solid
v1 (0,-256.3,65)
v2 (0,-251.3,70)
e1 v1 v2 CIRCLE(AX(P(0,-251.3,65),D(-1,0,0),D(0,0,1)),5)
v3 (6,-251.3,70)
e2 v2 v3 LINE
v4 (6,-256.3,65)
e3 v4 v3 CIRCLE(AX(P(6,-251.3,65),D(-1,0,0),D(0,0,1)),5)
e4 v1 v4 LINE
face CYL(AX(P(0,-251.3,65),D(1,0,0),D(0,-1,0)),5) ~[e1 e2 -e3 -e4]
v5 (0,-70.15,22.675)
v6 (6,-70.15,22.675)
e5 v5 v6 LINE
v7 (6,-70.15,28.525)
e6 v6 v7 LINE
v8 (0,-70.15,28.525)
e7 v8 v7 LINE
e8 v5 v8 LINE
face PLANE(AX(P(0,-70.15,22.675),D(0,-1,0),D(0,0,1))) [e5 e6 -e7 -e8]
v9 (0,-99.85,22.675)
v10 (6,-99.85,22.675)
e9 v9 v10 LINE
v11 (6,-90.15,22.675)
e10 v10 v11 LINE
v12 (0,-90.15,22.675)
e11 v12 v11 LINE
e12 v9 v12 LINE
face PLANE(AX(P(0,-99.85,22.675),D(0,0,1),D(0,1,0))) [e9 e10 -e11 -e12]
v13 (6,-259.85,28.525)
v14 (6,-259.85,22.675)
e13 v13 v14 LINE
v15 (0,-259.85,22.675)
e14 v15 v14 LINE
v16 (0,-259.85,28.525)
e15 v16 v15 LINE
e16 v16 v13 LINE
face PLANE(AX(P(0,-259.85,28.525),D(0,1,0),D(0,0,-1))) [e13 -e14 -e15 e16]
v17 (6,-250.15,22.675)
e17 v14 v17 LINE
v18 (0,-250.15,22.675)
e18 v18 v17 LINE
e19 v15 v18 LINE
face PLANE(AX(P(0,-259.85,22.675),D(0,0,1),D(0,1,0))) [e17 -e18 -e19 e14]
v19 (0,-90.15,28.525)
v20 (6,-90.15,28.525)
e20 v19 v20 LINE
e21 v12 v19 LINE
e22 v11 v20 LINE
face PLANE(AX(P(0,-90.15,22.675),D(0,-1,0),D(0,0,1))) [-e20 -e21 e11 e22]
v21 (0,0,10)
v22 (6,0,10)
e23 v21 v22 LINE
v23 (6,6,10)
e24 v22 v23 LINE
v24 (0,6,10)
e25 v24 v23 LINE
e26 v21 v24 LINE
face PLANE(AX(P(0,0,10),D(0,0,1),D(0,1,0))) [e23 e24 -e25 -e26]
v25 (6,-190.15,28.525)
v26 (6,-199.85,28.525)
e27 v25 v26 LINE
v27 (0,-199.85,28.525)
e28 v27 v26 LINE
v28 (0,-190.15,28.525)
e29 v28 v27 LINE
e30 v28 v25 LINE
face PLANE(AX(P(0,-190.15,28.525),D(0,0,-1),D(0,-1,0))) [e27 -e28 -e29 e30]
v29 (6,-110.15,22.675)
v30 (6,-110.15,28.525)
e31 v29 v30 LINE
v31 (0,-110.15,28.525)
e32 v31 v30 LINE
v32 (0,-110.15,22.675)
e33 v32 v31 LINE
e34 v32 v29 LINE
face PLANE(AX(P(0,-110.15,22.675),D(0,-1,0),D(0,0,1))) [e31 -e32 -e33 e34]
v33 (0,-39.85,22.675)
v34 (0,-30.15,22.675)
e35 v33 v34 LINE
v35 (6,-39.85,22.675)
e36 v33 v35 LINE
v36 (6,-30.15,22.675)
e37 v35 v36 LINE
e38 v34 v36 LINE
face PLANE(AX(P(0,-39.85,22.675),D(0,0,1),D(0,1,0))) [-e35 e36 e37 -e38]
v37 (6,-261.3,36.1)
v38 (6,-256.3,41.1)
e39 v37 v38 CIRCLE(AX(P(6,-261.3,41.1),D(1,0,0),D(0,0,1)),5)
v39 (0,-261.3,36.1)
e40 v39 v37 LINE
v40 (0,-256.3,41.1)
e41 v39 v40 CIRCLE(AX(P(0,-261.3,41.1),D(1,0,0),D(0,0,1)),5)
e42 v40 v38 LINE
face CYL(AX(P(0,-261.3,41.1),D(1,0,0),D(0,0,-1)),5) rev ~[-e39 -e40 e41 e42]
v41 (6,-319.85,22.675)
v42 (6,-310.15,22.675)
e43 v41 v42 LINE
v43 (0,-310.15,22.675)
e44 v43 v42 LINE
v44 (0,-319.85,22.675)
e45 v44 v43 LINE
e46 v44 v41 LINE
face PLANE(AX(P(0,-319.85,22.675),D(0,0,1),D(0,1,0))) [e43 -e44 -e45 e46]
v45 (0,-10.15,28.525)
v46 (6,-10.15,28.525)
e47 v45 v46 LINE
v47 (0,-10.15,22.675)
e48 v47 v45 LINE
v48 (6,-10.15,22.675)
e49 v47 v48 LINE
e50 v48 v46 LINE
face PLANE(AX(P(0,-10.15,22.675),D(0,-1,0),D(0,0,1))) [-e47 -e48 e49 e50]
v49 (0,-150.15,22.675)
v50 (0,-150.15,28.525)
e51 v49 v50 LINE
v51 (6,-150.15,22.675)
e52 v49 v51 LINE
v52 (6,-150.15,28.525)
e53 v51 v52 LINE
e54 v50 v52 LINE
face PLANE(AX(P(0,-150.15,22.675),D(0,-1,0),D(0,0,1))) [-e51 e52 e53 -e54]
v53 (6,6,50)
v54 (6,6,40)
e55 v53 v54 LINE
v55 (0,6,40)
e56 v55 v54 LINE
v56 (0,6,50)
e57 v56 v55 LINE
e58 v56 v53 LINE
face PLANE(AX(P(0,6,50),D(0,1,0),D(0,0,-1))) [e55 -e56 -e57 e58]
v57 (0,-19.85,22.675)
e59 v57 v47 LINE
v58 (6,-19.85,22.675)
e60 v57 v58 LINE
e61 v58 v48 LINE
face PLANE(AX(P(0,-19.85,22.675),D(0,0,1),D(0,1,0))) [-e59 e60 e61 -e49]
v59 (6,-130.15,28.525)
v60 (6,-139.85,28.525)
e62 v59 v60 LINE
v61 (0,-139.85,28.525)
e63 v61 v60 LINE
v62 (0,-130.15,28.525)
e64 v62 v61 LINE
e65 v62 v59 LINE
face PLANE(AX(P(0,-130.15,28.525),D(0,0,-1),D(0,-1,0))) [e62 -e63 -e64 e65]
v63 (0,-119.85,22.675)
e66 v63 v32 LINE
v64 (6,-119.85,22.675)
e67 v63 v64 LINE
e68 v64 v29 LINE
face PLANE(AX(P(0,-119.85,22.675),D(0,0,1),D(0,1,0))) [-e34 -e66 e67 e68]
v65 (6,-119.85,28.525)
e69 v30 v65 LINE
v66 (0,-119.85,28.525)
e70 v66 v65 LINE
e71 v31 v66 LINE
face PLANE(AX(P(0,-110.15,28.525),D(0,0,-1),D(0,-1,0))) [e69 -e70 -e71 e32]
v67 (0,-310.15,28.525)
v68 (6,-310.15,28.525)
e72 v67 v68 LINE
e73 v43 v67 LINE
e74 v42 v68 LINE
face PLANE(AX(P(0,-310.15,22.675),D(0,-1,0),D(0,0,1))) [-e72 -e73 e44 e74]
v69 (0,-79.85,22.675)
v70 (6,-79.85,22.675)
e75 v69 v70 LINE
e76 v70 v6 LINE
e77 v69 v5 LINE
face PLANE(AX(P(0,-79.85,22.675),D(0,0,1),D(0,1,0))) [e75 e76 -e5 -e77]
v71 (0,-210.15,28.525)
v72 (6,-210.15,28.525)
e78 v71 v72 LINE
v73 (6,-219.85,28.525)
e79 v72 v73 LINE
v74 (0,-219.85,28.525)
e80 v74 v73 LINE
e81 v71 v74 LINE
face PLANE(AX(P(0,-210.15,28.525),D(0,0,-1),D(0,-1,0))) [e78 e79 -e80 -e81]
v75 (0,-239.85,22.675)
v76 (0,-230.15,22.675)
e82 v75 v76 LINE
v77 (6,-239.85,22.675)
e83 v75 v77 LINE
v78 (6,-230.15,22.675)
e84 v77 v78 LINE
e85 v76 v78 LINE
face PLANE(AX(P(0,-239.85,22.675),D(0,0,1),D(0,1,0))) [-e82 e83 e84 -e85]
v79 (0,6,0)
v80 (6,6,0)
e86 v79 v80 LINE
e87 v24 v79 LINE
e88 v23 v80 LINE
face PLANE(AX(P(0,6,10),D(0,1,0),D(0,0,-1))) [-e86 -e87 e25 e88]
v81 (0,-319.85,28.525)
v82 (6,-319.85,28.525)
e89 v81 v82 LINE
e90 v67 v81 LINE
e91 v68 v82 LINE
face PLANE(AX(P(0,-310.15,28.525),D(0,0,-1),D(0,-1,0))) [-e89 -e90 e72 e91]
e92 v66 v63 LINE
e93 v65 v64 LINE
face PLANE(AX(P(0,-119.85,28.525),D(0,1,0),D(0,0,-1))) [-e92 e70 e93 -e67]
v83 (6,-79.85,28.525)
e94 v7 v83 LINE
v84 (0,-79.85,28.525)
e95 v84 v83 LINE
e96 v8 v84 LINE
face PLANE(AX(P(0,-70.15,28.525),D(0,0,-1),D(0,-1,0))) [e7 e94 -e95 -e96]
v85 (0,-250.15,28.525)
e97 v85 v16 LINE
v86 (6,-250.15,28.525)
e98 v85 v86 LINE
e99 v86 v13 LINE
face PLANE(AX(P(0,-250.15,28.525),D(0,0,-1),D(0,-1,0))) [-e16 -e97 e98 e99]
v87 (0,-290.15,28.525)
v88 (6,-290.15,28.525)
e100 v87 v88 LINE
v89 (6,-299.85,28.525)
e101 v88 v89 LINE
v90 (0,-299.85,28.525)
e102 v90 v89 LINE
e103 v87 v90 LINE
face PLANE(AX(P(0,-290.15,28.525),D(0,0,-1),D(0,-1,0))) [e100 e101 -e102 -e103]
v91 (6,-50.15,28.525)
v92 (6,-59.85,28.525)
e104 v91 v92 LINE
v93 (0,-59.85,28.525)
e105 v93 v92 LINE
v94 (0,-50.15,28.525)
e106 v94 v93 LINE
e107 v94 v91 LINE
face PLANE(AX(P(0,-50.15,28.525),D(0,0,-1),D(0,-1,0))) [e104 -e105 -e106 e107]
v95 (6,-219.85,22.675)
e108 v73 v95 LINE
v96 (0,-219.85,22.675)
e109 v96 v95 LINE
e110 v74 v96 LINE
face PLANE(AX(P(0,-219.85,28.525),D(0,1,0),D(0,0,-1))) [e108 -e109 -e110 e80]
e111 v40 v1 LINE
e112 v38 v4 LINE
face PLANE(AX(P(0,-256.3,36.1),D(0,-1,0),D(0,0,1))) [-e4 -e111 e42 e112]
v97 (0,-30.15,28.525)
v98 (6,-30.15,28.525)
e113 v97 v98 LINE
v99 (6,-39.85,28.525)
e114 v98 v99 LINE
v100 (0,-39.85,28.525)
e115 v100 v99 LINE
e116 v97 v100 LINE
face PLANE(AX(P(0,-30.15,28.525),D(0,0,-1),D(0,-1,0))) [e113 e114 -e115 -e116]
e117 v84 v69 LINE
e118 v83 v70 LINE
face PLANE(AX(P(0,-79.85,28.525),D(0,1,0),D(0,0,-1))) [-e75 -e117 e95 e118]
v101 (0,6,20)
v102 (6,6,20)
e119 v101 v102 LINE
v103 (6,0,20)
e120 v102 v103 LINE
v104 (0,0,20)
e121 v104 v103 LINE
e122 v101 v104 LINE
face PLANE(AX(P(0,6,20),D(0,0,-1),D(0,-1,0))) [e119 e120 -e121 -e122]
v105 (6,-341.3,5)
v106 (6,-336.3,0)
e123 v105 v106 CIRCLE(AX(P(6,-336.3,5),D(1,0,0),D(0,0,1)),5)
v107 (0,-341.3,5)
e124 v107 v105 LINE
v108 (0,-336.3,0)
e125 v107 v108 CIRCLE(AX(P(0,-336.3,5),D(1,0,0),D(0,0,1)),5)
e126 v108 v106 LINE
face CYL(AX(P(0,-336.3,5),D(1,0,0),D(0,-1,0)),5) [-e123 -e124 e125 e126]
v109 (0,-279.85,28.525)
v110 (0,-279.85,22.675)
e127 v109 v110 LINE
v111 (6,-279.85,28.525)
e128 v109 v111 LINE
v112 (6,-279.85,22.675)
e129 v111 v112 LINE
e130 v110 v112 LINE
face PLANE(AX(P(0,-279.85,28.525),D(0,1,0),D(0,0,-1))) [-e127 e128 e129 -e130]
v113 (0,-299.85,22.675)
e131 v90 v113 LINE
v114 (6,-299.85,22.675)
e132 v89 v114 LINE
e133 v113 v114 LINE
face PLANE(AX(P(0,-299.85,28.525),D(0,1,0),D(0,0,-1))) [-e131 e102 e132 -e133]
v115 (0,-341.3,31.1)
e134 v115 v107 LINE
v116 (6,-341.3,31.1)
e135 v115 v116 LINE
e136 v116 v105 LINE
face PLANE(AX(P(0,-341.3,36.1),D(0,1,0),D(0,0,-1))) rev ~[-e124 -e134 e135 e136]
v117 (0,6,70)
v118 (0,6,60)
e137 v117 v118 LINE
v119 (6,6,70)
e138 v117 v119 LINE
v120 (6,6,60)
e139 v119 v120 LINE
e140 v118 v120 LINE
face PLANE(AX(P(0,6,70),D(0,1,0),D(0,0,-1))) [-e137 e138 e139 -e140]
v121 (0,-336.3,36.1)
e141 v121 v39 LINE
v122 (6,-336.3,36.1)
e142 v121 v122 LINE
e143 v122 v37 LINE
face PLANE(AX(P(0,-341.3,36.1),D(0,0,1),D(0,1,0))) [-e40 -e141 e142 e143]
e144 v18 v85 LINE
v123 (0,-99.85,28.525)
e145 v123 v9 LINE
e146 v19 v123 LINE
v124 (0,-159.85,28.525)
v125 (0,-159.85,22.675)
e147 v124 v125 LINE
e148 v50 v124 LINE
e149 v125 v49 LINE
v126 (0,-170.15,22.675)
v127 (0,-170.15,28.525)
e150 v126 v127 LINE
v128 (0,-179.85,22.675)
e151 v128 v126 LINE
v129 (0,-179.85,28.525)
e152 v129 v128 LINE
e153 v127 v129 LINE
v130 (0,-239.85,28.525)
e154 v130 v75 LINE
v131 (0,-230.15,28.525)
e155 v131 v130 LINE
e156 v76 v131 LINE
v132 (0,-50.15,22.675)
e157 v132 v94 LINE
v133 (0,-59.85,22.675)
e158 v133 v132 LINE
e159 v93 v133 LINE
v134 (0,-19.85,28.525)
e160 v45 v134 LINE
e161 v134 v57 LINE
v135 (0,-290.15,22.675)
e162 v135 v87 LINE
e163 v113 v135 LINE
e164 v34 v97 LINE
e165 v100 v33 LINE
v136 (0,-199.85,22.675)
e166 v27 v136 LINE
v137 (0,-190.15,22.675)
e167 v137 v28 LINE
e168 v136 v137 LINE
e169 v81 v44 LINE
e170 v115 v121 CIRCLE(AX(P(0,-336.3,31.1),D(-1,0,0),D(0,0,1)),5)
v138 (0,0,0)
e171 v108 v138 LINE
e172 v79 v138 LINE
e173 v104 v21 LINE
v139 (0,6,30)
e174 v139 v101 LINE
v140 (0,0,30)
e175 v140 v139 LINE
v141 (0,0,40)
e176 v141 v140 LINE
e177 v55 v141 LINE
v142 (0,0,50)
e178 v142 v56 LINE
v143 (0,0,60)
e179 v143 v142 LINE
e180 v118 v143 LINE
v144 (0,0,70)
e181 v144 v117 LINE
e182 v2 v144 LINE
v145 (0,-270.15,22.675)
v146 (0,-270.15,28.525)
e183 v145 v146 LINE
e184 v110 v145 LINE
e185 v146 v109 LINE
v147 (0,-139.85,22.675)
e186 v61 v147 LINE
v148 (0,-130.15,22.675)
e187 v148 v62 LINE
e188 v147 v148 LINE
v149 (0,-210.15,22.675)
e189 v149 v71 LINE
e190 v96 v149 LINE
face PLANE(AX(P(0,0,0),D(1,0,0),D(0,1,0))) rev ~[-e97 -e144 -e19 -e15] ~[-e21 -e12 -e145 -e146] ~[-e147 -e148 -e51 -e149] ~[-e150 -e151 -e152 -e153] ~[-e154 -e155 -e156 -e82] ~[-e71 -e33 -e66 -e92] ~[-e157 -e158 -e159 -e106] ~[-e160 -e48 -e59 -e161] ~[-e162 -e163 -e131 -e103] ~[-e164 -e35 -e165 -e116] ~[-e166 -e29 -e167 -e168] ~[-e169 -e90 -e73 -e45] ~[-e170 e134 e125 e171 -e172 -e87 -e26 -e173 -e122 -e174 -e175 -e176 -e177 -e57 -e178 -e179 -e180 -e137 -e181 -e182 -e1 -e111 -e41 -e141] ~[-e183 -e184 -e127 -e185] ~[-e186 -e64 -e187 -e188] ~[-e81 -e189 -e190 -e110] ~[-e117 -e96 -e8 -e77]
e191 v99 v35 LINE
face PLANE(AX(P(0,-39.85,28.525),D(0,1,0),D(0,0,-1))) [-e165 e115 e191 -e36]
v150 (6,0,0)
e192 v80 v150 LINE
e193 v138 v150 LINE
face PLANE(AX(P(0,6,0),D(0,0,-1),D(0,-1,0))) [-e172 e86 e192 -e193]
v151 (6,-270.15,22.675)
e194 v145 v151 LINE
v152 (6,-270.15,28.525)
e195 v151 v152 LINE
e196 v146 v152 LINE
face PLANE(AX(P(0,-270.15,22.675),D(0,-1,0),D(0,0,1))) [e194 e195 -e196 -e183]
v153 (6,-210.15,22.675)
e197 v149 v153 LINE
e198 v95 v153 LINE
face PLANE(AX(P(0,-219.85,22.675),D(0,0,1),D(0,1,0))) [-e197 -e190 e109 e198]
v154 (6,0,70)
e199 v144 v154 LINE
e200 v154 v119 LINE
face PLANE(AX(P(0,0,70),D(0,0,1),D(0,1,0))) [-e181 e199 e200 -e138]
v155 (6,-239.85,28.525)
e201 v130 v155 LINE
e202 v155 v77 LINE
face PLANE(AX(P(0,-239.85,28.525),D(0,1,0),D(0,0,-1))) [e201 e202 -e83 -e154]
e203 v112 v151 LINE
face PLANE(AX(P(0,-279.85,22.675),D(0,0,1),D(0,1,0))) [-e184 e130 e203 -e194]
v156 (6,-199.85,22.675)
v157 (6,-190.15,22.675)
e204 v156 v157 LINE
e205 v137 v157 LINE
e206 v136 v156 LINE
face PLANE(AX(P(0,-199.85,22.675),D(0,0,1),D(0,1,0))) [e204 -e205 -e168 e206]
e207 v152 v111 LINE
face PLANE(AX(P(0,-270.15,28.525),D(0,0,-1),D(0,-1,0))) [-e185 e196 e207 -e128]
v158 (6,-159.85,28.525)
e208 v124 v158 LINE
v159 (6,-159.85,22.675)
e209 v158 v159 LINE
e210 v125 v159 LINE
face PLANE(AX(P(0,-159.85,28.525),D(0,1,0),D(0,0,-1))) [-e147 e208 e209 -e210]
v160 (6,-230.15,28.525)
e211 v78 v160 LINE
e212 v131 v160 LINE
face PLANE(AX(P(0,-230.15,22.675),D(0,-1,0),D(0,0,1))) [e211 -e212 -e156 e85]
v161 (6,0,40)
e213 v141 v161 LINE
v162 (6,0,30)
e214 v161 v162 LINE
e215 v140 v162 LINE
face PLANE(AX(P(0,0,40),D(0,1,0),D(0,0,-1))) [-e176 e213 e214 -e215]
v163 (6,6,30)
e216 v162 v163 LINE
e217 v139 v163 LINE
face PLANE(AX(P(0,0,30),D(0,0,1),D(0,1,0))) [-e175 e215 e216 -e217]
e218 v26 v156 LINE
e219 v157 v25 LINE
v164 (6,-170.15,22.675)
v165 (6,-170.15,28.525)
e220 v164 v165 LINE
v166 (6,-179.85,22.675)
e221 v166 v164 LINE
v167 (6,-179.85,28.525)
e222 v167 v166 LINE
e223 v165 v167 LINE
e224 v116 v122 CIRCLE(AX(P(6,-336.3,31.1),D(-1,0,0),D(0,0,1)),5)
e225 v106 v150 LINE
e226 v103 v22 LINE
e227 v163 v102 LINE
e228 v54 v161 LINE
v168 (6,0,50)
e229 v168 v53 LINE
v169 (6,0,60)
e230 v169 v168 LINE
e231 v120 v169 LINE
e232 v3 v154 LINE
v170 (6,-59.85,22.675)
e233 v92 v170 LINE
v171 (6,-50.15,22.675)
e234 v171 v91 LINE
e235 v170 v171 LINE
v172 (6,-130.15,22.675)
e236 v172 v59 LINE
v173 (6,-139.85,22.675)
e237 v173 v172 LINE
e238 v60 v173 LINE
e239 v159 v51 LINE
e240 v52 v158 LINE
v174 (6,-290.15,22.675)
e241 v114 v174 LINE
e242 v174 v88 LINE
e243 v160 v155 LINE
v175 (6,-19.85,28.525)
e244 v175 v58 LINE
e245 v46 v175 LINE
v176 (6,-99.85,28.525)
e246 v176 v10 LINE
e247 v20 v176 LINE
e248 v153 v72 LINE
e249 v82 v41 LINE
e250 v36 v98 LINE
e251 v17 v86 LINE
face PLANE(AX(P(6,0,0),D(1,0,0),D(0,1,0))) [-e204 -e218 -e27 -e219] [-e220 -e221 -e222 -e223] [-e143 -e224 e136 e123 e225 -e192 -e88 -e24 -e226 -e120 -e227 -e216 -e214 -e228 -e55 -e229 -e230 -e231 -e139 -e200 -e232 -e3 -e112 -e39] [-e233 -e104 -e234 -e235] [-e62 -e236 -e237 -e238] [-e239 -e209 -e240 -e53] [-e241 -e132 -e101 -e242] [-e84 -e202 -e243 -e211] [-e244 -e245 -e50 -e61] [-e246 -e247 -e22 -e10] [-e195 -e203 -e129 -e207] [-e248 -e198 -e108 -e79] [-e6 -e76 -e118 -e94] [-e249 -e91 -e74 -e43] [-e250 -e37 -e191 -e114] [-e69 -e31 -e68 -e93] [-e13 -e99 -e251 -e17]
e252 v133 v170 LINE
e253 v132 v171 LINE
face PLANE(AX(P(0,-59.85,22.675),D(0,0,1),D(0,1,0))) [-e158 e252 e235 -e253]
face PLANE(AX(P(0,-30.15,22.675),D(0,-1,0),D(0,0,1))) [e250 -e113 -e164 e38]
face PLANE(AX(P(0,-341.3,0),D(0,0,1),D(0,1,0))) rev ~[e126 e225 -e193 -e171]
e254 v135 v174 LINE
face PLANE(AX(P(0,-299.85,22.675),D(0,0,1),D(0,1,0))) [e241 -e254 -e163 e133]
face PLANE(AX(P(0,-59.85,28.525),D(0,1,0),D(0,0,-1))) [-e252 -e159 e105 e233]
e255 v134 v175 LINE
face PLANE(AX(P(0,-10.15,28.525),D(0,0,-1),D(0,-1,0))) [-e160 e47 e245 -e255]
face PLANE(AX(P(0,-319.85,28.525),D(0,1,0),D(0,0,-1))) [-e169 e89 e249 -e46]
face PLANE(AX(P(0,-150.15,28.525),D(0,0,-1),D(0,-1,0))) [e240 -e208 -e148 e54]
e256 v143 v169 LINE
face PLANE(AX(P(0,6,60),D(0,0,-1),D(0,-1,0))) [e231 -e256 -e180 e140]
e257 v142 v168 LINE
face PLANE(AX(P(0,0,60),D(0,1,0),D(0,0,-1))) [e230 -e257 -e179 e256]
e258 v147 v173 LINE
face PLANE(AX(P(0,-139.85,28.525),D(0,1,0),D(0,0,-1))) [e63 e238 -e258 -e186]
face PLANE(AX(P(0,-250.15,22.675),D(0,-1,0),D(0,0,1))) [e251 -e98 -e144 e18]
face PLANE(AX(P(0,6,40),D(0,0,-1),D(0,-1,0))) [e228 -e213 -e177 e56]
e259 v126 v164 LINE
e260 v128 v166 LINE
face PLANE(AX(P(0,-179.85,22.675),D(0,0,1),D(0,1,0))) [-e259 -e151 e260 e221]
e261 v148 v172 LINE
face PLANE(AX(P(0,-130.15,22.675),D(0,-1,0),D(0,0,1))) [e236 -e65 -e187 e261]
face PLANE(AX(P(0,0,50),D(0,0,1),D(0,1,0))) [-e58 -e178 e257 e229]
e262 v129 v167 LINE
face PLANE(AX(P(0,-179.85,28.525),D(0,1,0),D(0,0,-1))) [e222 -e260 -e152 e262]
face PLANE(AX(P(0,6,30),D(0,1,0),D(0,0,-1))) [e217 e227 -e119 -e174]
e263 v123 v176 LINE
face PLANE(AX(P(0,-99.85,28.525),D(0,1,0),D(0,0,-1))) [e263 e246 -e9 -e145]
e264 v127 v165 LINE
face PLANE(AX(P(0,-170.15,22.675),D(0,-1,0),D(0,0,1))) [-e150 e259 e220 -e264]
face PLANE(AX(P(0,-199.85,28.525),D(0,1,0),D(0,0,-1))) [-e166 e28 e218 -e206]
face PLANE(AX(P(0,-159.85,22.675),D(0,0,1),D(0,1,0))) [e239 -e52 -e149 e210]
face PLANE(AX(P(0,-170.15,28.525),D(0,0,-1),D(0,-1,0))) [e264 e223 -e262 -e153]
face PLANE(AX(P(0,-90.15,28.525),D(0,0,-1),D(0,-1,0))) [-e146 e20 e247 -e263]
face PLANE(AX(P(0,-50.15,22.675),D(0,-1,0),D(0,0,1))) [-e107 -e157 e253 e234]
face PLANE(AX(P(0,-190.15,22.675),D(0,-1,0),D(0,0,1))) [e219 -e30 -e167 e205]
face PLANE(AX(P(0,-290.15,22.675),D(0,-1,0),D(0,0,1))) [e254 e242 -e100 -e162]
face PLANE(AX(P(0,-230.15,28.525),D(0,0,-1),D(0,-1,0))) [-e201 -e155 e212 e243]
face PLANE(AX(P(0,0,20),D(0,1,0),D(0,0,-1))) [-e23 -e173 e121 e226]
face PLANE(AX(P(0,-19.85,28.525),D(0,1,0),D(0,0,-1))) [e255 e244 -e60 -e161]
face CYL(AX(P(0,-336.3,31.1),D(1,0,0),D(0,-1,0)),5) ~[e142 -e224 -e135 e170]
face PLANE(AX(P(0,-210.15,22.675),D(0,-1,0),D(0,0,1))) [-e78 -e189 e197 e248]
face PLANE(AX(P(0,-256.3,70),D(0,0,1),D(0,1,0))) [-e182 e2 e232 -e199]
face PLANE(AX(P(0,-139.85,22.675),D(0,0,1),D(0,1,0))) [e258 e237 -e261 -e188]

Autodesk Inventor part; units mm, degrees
ref_plane "YZ Plane" through (0, 0, 0) normal (1, 0, 0) x (0, 1, 0)
ref_plane "XZ Plane" through (0, 0, 0) normal (0, 1, 0) x (-1, 0, 0)
ref_plane "XY Plane" through (0, 0, 0) normal (0, 0, 1) x (1, 0, 0)
sketch "Sketch1" plane through (0, 0, 0) normal (1, 0, 0) x (0, 1, 0)
  line L0 (0, 70) -> (-341.3, 70) construction
  line L1 (-341.3, 70) -> (-341.3, 0) construction
  line L2 (-341.3, 0) -> (0, 0)
  line L3 (0, 0) -> (0, 60) construction
  line L4 (0, 70) -> (6, 70)
  line L5 (6, 70) -> (6, 60)
  line L6 (6, 60) -> (0, 60)
  line L7 (0, 50) -> (6, 50)
  line L8 (6, 50) -> (6, 40)
  line L9 (6, 40) -> (0, 40)
  line L10 (0, 30) -> (6, 30)
  line L11 (6, 30) -> (6, 20)
  line L12 (6, 20) -> (0, 20)
  line L13 (0, 10) -> (6, 10)
  line L14 (6, 10) -> (6, 0)
  line L15 (6, 0) -> (0, 0)
  line L16 (0, 60) -> (0, 50)
  line L17 (0, 40) -> (0, 30)
  line L18 (0, 20) -> (0, 10)
  line L19 (-10.15, 28.525) -> (-19.85, 28.525)
  line L20 (-19.85, 28.525) -> (-19.85, 22.675)
  line L21 (-19.85, 22.675) -> (-10.15, 22.675)
  line L22 (-10.15, 22.675) -> (-10.15, 28.525)
  line L23 (-10, 28.6) -> (-331.3, 28.6) construction
  line L24 (-331.3, 28.6) -> (-331.3, 22.6) construction
  line L25 (-331.3, 22.6) -> (-10, 22.6) construction
  line L26 (-10, 22.6) -> (-10, 28.6) construction
  line L27 (-15, 28.6) -> (-15, 22.6) construction
  line L28 (-30.15, 22.675) -> (-30.15, 28.525)
  line L29 (-30.15, 28.525) -> (-39.85, 28.525)
  line L30 (-39.85, 22.675) -> (-30.15, 22.675)
  line L31 (-39.85, 28.525) -> (-39.85, 22.675)
  line L32 (-50.15, 22.675) -> (-50.15, 28.525)
  line L33 (-50.15, 28.525) -> (-59.85, 28.525)
  line L34 (-59.85, 22.675) -> (-50.15, 22.675)
  line L35 (-59.85, 28.525) -> (-59.85, 22.675)
  line L36 (-70.15, 22.675) -> (-70.15, 28.525)
  line L37 (-70.15, 28.525) -> (-79.85, 28.525)
  line L38 (-79.85, 22.675) -> (-70.15, 22.675)
  line L39 (-79.85, 28.525) -> (-79.85, 22.675)
  line L40 (-90.15, 22.675) -> (-90.15, 28.525)
  line L41 (-90.15, 28.525) -> (-99.85, 28.525)
  line L42 (-99.85, 22.675) -> (-90.15, 22.675)
  line L43 (-99.85, 28.525) -> (-99.85, 22.675)
  line L44 (-110.15, 22.675) -> (-110.15, 28.525)
  line L45 (-110.15, 28.525) -> (-119.85, 28.525)
  line L46 (-119.85, 22.675) -> (-110.15, 22.675)
  line L47 (-119.85, 28.525) -> (-119.85, 22.675)
  line L48 (-130.15, 22.675) -> (-130.15, 28.525)
  line L49 (-130.15, 28.525) -> (-139.85, 28.525)
  line L50 (-139.85, 22.675) -> (-130.15, 22.675)
  line L51 (-139.85, 28.525) -> (-139.85, 22.675)
  line L52 (-150.15, 22.675) -> (-150.15, 28.525)
  line L53 (-150.15, 28.525) -> (-159.85, 28.525)
  line L54 (-159.85, 22.675) -> (-150.15, 22.675)
  line L55 (-159.85, 28.525) -> (-159.85, 22.675)
  line L56 (-170.15, 22.675) -> (-170.15, 28.525)
  line L57 (-170.15, 28.525) -> (-179.85, 28.525)
  line L58 (-179.85, 22.675) -> (-170.15, 22.675)
  line L59 (-179.85, 28.525) -> (-179.85, 22.675)
  line L60 (-190.15, 22.675) -> (-190.15, 28.525)
  line L61 (-190.15, 28.525) -> (-199.85, 28.525)
  line L62 (-199.85, 22.675) -> (-190.15, 22.675)
  line L63 (-199.85, 28.525) -> (-199.85, 22.675)
  line L64 (-210.15, 22.675) -> (-210.15, 28.525)
  line L65 (-210.15, 28.525) -> (-219.85, 28.525)
  line L66 (-219.85, 22.675) -> (-210.15, 22.675)
  line L67 (-219.85, 28.525) -> (-219.85, 22.675)
  line L68 (-230.15, 22.675) -> (-230.15, 28.525)
  line L69 (-230.15, 28.525) -> (-239.85, 28.525)
  line L70 (-239.85, 22.675) -> (-230.15, 22.675)
  line L71 (-239.85, 28.525) -> (-239.85, 22.675)
  line L72 (-250.15, 22.675) -> (-250.15, 28.525)
  line L73 (-250.15, 28.525) -> (-259.85, 28.525)
  line L74 (-259.85, 22.675) -> (-250.15, 22.675)
  line L75 (-259.85, 28.525) -> (-259.85, 22.675)
  line L76 (-270.15, 22.675) -> (-270.15, 28.525)
  line L77 (-270.15, 28.525) -> (-279.85, 28.525)
  line L78 (-279.85, 22.675) -> (-270.15, 22.675)
  line L79 (-279.85, 28.525) -> (-279.85, 22.675)
  line L80 (-290.15, 22.675) -> (-290.15, 28.525)
  line L81 (-290.15, 28.525) -> (-299.85, 28.525)
  line L82 (-299.85, 22.675) -> (-290.15, 22.675)
  line L83 (-299.85, 28.525) -> (-299.85, 22.675)
  line L84 (-310.15, 22.675) -> (-310.15, 28.525)
  line L85 (-310.15, 28.525) -> (-319.85, 28.525)
  line L86 (-319.85, 22.675) -> (-310.15, 22.675)
  line L87 (-319.85, 28.525) -> (-319.85, 22.675)
  line L88 (-341.3, 36.1) -> (-256.3, 36.1)
  line L89 (-256.3, 36.1) -> (-256.3, 70)
  line L90 (-341.3, 36.1) -> (-341.3, 0)
  line L91 (-256.3, 70) -> (0, 70)
  point P0 (0, 35)
  point P1 (-170.65, 0)
  point P2 (3, 70)
  point P3 (3, 50)
  point P4 (3, 30)
  point P5 (3, 10)
  point P6 (-10.15, 25.6)
  point P7 (-10, 25.6)
  point P8 (0, 35)
  point P9 (-15, 25.6)
  point P10 (-15, 22.675)
  point P11 (-30.15, 25.6)
  point P12 (-35, 22.675)
  point P13 (-50.15, 25.6)
  point P14 (-55, 22.675)
  point P15 (-70.15, 25.6)
  point P16 (-75, 22.675)
  point P17 (-90.15, 25.6)
  point P18 (-95, 22.675)
  point P19 (-110.15, 25.6)
  point P20 (-115, 22.675)
  point P21 (-130.15, 25.6)
  point P22 (-135, 22.675)
  point P23 (-150.15, 25.6)
  point P24 (-155, 22.675)
  point P25 (-170.15, 25.6)
  point P26 (-175, 22.675)
  point P27 (-190.15, 25.6)
  point P28 (-195, 22.675)
  point P29 (-210.15, 25.6)
  point P30 (-215, 22.675)
  point P31 (-230.15, 25.6)
  point P32 (-235, 22.675)
  point P33 (-250.15, 25.6)
  point P34 (-255, 22.675)
  point P35 (-270.15, 25.6)
  point P36 (-275, 22.675)
  point P37 (-290.15, 25.6)
  point P38 (-295, 22.675)
  point P39 (-310.15, 25.6)
  point P40 (-315, 22.675)
  point P41 (-331.3, 25.6)
  dimension "d7" = 70
  dimension "d18" = 6
  dimension "d21" = 10
  dimension "d24" = 341.3
  dimension "d35" = 20
  dimension "d49" = 5.85
  dimension "d50" = 9.7
  dimension "d51" = 6
  dimension "d52" = 9.4
  dimension "d53" = 10
  dimension "d58" = 10
  dimension "d60" = 5
  dimension "d63" = 20
  dimension "d73" = 10.5
  dimension "d74" = 85
extrude "Extrusion1" add sketch "Sketch1" along normal blind 6
fillet "Fillet1" radius 5 4 edges at (3, -256.3, 70) (3, -256.3, 36.1) (3, -341.3, 36.1) (3, -341.3, 0)
equation "\"d7\" = moduleMountH"
equation "\"d18\" = fingerH"
equation "\"d21\" = fingerW"
equation "\"d24\" = supportL"
equation "\"d35\" = fingerSpacing"
equation "\"d49\" = fingerholeH"
equation "\"d50\" = fingerholeW"
equation "\"d51\" = thickness"
equation "\"d52\" = supportsCTCZ"
equation "\"d53\" = 0.5 * fingerSpacing"
equation "\"d58\" = 0.5 * fingerSpacing"
equation "\"d60\" = 0.5 * fingerW"
equation "\"d63\" = fingerSpacing"
equation "\"d74\" = actuatorCableCutoutH"
equation "\"d44\" = thickness"
equation "\"d75\" = supportsFilletR"
equation "\"moduleWidth\" = 118"
equation "\"moduleHeight\" = 96"
equation "\"moduleMountH\" = 70"
equation "\"moduleMountD\" = 6.8"
equation "\"moduleCornerR\" = 5"
equation "\"d4\" = moduleCornerR"
equation "\"d5\" = moduleMountD"
equation "\"d6\" = moduleMountD"
equation "\"d8\" = moduleMountD"
equation "\"d10\" = moduleMountD"
equation "\"moduleOpeningR\" = 25"
equation "\"d13\" = moduleOpeningR"
equation "\"thickness\" = 6"
equation "\"d15\" = thickness"
equation "\"d16\" = 0"
equation "\"kerf\" = 0.15"
equation "\"fingerW\" = 10"
equation "\"fingerSpacing\" = 20"
equation "\"fingerholeW\" = fingerW - 2 * kerf"
equation "\"fingerholeH\" = thickness - kerf"
equation "\"moduleMountClearance\" = 19"
equation "\"actuatorW\" = 28"
equation "\"actuatorH\" = 40.8"
equation "\"openingMFC\" = 45"
equation "\"d28\" = thickness"
equation "\"d29\" = thickness"
equation "\"d30\" = 0.5 * actuatorH + thickness"
equation "\"d31\" = 15"
equation "\"d32\" = fingerholeH"
equation "\"d33\" = fingerholeW"
equation "\"d41\" = fingerholeH"
equation "\"d42\" = fingerholeW"
equation "\"chairThickness\" = 12.7"
equation "\"supportL\" = -chairThickness + dildoL + actuatorMountL - thickness"
equation "\"d0\" = moduleHeight"
equation "\"d1\" = moduleWidth"
equation "\"d17\" = openingMFC"
equation "\"d19\" = moduleMountClearance"
equation "\"fingerH\" = thickness"
equation "\"supportSpacingFromMounting\" = 15"
equation "\"d54\" = fingerholeH"
equation "\"d55\" = fingerholeW"
equation "\"d64\" = 9.4"
equation "\"supportsCTCZ\" = d64"
equation "\"supportXW\" = -2 * thickness + moduleMountW - 2 * supportSpacingFromMounting + kerf"
equation "\"actuatorCableW\" = 35"
equation "\"actuatorCableCutoutH\" = 85"
equation "\"supportsFilletR\" = 5"
equation "\"dildoL\" = 170"
equation "\"actuatorMountL\" = 190"
equation "\"moduleMountW\" = 100"
properties part number "Module_supportZ_cableNotch_MFC"
